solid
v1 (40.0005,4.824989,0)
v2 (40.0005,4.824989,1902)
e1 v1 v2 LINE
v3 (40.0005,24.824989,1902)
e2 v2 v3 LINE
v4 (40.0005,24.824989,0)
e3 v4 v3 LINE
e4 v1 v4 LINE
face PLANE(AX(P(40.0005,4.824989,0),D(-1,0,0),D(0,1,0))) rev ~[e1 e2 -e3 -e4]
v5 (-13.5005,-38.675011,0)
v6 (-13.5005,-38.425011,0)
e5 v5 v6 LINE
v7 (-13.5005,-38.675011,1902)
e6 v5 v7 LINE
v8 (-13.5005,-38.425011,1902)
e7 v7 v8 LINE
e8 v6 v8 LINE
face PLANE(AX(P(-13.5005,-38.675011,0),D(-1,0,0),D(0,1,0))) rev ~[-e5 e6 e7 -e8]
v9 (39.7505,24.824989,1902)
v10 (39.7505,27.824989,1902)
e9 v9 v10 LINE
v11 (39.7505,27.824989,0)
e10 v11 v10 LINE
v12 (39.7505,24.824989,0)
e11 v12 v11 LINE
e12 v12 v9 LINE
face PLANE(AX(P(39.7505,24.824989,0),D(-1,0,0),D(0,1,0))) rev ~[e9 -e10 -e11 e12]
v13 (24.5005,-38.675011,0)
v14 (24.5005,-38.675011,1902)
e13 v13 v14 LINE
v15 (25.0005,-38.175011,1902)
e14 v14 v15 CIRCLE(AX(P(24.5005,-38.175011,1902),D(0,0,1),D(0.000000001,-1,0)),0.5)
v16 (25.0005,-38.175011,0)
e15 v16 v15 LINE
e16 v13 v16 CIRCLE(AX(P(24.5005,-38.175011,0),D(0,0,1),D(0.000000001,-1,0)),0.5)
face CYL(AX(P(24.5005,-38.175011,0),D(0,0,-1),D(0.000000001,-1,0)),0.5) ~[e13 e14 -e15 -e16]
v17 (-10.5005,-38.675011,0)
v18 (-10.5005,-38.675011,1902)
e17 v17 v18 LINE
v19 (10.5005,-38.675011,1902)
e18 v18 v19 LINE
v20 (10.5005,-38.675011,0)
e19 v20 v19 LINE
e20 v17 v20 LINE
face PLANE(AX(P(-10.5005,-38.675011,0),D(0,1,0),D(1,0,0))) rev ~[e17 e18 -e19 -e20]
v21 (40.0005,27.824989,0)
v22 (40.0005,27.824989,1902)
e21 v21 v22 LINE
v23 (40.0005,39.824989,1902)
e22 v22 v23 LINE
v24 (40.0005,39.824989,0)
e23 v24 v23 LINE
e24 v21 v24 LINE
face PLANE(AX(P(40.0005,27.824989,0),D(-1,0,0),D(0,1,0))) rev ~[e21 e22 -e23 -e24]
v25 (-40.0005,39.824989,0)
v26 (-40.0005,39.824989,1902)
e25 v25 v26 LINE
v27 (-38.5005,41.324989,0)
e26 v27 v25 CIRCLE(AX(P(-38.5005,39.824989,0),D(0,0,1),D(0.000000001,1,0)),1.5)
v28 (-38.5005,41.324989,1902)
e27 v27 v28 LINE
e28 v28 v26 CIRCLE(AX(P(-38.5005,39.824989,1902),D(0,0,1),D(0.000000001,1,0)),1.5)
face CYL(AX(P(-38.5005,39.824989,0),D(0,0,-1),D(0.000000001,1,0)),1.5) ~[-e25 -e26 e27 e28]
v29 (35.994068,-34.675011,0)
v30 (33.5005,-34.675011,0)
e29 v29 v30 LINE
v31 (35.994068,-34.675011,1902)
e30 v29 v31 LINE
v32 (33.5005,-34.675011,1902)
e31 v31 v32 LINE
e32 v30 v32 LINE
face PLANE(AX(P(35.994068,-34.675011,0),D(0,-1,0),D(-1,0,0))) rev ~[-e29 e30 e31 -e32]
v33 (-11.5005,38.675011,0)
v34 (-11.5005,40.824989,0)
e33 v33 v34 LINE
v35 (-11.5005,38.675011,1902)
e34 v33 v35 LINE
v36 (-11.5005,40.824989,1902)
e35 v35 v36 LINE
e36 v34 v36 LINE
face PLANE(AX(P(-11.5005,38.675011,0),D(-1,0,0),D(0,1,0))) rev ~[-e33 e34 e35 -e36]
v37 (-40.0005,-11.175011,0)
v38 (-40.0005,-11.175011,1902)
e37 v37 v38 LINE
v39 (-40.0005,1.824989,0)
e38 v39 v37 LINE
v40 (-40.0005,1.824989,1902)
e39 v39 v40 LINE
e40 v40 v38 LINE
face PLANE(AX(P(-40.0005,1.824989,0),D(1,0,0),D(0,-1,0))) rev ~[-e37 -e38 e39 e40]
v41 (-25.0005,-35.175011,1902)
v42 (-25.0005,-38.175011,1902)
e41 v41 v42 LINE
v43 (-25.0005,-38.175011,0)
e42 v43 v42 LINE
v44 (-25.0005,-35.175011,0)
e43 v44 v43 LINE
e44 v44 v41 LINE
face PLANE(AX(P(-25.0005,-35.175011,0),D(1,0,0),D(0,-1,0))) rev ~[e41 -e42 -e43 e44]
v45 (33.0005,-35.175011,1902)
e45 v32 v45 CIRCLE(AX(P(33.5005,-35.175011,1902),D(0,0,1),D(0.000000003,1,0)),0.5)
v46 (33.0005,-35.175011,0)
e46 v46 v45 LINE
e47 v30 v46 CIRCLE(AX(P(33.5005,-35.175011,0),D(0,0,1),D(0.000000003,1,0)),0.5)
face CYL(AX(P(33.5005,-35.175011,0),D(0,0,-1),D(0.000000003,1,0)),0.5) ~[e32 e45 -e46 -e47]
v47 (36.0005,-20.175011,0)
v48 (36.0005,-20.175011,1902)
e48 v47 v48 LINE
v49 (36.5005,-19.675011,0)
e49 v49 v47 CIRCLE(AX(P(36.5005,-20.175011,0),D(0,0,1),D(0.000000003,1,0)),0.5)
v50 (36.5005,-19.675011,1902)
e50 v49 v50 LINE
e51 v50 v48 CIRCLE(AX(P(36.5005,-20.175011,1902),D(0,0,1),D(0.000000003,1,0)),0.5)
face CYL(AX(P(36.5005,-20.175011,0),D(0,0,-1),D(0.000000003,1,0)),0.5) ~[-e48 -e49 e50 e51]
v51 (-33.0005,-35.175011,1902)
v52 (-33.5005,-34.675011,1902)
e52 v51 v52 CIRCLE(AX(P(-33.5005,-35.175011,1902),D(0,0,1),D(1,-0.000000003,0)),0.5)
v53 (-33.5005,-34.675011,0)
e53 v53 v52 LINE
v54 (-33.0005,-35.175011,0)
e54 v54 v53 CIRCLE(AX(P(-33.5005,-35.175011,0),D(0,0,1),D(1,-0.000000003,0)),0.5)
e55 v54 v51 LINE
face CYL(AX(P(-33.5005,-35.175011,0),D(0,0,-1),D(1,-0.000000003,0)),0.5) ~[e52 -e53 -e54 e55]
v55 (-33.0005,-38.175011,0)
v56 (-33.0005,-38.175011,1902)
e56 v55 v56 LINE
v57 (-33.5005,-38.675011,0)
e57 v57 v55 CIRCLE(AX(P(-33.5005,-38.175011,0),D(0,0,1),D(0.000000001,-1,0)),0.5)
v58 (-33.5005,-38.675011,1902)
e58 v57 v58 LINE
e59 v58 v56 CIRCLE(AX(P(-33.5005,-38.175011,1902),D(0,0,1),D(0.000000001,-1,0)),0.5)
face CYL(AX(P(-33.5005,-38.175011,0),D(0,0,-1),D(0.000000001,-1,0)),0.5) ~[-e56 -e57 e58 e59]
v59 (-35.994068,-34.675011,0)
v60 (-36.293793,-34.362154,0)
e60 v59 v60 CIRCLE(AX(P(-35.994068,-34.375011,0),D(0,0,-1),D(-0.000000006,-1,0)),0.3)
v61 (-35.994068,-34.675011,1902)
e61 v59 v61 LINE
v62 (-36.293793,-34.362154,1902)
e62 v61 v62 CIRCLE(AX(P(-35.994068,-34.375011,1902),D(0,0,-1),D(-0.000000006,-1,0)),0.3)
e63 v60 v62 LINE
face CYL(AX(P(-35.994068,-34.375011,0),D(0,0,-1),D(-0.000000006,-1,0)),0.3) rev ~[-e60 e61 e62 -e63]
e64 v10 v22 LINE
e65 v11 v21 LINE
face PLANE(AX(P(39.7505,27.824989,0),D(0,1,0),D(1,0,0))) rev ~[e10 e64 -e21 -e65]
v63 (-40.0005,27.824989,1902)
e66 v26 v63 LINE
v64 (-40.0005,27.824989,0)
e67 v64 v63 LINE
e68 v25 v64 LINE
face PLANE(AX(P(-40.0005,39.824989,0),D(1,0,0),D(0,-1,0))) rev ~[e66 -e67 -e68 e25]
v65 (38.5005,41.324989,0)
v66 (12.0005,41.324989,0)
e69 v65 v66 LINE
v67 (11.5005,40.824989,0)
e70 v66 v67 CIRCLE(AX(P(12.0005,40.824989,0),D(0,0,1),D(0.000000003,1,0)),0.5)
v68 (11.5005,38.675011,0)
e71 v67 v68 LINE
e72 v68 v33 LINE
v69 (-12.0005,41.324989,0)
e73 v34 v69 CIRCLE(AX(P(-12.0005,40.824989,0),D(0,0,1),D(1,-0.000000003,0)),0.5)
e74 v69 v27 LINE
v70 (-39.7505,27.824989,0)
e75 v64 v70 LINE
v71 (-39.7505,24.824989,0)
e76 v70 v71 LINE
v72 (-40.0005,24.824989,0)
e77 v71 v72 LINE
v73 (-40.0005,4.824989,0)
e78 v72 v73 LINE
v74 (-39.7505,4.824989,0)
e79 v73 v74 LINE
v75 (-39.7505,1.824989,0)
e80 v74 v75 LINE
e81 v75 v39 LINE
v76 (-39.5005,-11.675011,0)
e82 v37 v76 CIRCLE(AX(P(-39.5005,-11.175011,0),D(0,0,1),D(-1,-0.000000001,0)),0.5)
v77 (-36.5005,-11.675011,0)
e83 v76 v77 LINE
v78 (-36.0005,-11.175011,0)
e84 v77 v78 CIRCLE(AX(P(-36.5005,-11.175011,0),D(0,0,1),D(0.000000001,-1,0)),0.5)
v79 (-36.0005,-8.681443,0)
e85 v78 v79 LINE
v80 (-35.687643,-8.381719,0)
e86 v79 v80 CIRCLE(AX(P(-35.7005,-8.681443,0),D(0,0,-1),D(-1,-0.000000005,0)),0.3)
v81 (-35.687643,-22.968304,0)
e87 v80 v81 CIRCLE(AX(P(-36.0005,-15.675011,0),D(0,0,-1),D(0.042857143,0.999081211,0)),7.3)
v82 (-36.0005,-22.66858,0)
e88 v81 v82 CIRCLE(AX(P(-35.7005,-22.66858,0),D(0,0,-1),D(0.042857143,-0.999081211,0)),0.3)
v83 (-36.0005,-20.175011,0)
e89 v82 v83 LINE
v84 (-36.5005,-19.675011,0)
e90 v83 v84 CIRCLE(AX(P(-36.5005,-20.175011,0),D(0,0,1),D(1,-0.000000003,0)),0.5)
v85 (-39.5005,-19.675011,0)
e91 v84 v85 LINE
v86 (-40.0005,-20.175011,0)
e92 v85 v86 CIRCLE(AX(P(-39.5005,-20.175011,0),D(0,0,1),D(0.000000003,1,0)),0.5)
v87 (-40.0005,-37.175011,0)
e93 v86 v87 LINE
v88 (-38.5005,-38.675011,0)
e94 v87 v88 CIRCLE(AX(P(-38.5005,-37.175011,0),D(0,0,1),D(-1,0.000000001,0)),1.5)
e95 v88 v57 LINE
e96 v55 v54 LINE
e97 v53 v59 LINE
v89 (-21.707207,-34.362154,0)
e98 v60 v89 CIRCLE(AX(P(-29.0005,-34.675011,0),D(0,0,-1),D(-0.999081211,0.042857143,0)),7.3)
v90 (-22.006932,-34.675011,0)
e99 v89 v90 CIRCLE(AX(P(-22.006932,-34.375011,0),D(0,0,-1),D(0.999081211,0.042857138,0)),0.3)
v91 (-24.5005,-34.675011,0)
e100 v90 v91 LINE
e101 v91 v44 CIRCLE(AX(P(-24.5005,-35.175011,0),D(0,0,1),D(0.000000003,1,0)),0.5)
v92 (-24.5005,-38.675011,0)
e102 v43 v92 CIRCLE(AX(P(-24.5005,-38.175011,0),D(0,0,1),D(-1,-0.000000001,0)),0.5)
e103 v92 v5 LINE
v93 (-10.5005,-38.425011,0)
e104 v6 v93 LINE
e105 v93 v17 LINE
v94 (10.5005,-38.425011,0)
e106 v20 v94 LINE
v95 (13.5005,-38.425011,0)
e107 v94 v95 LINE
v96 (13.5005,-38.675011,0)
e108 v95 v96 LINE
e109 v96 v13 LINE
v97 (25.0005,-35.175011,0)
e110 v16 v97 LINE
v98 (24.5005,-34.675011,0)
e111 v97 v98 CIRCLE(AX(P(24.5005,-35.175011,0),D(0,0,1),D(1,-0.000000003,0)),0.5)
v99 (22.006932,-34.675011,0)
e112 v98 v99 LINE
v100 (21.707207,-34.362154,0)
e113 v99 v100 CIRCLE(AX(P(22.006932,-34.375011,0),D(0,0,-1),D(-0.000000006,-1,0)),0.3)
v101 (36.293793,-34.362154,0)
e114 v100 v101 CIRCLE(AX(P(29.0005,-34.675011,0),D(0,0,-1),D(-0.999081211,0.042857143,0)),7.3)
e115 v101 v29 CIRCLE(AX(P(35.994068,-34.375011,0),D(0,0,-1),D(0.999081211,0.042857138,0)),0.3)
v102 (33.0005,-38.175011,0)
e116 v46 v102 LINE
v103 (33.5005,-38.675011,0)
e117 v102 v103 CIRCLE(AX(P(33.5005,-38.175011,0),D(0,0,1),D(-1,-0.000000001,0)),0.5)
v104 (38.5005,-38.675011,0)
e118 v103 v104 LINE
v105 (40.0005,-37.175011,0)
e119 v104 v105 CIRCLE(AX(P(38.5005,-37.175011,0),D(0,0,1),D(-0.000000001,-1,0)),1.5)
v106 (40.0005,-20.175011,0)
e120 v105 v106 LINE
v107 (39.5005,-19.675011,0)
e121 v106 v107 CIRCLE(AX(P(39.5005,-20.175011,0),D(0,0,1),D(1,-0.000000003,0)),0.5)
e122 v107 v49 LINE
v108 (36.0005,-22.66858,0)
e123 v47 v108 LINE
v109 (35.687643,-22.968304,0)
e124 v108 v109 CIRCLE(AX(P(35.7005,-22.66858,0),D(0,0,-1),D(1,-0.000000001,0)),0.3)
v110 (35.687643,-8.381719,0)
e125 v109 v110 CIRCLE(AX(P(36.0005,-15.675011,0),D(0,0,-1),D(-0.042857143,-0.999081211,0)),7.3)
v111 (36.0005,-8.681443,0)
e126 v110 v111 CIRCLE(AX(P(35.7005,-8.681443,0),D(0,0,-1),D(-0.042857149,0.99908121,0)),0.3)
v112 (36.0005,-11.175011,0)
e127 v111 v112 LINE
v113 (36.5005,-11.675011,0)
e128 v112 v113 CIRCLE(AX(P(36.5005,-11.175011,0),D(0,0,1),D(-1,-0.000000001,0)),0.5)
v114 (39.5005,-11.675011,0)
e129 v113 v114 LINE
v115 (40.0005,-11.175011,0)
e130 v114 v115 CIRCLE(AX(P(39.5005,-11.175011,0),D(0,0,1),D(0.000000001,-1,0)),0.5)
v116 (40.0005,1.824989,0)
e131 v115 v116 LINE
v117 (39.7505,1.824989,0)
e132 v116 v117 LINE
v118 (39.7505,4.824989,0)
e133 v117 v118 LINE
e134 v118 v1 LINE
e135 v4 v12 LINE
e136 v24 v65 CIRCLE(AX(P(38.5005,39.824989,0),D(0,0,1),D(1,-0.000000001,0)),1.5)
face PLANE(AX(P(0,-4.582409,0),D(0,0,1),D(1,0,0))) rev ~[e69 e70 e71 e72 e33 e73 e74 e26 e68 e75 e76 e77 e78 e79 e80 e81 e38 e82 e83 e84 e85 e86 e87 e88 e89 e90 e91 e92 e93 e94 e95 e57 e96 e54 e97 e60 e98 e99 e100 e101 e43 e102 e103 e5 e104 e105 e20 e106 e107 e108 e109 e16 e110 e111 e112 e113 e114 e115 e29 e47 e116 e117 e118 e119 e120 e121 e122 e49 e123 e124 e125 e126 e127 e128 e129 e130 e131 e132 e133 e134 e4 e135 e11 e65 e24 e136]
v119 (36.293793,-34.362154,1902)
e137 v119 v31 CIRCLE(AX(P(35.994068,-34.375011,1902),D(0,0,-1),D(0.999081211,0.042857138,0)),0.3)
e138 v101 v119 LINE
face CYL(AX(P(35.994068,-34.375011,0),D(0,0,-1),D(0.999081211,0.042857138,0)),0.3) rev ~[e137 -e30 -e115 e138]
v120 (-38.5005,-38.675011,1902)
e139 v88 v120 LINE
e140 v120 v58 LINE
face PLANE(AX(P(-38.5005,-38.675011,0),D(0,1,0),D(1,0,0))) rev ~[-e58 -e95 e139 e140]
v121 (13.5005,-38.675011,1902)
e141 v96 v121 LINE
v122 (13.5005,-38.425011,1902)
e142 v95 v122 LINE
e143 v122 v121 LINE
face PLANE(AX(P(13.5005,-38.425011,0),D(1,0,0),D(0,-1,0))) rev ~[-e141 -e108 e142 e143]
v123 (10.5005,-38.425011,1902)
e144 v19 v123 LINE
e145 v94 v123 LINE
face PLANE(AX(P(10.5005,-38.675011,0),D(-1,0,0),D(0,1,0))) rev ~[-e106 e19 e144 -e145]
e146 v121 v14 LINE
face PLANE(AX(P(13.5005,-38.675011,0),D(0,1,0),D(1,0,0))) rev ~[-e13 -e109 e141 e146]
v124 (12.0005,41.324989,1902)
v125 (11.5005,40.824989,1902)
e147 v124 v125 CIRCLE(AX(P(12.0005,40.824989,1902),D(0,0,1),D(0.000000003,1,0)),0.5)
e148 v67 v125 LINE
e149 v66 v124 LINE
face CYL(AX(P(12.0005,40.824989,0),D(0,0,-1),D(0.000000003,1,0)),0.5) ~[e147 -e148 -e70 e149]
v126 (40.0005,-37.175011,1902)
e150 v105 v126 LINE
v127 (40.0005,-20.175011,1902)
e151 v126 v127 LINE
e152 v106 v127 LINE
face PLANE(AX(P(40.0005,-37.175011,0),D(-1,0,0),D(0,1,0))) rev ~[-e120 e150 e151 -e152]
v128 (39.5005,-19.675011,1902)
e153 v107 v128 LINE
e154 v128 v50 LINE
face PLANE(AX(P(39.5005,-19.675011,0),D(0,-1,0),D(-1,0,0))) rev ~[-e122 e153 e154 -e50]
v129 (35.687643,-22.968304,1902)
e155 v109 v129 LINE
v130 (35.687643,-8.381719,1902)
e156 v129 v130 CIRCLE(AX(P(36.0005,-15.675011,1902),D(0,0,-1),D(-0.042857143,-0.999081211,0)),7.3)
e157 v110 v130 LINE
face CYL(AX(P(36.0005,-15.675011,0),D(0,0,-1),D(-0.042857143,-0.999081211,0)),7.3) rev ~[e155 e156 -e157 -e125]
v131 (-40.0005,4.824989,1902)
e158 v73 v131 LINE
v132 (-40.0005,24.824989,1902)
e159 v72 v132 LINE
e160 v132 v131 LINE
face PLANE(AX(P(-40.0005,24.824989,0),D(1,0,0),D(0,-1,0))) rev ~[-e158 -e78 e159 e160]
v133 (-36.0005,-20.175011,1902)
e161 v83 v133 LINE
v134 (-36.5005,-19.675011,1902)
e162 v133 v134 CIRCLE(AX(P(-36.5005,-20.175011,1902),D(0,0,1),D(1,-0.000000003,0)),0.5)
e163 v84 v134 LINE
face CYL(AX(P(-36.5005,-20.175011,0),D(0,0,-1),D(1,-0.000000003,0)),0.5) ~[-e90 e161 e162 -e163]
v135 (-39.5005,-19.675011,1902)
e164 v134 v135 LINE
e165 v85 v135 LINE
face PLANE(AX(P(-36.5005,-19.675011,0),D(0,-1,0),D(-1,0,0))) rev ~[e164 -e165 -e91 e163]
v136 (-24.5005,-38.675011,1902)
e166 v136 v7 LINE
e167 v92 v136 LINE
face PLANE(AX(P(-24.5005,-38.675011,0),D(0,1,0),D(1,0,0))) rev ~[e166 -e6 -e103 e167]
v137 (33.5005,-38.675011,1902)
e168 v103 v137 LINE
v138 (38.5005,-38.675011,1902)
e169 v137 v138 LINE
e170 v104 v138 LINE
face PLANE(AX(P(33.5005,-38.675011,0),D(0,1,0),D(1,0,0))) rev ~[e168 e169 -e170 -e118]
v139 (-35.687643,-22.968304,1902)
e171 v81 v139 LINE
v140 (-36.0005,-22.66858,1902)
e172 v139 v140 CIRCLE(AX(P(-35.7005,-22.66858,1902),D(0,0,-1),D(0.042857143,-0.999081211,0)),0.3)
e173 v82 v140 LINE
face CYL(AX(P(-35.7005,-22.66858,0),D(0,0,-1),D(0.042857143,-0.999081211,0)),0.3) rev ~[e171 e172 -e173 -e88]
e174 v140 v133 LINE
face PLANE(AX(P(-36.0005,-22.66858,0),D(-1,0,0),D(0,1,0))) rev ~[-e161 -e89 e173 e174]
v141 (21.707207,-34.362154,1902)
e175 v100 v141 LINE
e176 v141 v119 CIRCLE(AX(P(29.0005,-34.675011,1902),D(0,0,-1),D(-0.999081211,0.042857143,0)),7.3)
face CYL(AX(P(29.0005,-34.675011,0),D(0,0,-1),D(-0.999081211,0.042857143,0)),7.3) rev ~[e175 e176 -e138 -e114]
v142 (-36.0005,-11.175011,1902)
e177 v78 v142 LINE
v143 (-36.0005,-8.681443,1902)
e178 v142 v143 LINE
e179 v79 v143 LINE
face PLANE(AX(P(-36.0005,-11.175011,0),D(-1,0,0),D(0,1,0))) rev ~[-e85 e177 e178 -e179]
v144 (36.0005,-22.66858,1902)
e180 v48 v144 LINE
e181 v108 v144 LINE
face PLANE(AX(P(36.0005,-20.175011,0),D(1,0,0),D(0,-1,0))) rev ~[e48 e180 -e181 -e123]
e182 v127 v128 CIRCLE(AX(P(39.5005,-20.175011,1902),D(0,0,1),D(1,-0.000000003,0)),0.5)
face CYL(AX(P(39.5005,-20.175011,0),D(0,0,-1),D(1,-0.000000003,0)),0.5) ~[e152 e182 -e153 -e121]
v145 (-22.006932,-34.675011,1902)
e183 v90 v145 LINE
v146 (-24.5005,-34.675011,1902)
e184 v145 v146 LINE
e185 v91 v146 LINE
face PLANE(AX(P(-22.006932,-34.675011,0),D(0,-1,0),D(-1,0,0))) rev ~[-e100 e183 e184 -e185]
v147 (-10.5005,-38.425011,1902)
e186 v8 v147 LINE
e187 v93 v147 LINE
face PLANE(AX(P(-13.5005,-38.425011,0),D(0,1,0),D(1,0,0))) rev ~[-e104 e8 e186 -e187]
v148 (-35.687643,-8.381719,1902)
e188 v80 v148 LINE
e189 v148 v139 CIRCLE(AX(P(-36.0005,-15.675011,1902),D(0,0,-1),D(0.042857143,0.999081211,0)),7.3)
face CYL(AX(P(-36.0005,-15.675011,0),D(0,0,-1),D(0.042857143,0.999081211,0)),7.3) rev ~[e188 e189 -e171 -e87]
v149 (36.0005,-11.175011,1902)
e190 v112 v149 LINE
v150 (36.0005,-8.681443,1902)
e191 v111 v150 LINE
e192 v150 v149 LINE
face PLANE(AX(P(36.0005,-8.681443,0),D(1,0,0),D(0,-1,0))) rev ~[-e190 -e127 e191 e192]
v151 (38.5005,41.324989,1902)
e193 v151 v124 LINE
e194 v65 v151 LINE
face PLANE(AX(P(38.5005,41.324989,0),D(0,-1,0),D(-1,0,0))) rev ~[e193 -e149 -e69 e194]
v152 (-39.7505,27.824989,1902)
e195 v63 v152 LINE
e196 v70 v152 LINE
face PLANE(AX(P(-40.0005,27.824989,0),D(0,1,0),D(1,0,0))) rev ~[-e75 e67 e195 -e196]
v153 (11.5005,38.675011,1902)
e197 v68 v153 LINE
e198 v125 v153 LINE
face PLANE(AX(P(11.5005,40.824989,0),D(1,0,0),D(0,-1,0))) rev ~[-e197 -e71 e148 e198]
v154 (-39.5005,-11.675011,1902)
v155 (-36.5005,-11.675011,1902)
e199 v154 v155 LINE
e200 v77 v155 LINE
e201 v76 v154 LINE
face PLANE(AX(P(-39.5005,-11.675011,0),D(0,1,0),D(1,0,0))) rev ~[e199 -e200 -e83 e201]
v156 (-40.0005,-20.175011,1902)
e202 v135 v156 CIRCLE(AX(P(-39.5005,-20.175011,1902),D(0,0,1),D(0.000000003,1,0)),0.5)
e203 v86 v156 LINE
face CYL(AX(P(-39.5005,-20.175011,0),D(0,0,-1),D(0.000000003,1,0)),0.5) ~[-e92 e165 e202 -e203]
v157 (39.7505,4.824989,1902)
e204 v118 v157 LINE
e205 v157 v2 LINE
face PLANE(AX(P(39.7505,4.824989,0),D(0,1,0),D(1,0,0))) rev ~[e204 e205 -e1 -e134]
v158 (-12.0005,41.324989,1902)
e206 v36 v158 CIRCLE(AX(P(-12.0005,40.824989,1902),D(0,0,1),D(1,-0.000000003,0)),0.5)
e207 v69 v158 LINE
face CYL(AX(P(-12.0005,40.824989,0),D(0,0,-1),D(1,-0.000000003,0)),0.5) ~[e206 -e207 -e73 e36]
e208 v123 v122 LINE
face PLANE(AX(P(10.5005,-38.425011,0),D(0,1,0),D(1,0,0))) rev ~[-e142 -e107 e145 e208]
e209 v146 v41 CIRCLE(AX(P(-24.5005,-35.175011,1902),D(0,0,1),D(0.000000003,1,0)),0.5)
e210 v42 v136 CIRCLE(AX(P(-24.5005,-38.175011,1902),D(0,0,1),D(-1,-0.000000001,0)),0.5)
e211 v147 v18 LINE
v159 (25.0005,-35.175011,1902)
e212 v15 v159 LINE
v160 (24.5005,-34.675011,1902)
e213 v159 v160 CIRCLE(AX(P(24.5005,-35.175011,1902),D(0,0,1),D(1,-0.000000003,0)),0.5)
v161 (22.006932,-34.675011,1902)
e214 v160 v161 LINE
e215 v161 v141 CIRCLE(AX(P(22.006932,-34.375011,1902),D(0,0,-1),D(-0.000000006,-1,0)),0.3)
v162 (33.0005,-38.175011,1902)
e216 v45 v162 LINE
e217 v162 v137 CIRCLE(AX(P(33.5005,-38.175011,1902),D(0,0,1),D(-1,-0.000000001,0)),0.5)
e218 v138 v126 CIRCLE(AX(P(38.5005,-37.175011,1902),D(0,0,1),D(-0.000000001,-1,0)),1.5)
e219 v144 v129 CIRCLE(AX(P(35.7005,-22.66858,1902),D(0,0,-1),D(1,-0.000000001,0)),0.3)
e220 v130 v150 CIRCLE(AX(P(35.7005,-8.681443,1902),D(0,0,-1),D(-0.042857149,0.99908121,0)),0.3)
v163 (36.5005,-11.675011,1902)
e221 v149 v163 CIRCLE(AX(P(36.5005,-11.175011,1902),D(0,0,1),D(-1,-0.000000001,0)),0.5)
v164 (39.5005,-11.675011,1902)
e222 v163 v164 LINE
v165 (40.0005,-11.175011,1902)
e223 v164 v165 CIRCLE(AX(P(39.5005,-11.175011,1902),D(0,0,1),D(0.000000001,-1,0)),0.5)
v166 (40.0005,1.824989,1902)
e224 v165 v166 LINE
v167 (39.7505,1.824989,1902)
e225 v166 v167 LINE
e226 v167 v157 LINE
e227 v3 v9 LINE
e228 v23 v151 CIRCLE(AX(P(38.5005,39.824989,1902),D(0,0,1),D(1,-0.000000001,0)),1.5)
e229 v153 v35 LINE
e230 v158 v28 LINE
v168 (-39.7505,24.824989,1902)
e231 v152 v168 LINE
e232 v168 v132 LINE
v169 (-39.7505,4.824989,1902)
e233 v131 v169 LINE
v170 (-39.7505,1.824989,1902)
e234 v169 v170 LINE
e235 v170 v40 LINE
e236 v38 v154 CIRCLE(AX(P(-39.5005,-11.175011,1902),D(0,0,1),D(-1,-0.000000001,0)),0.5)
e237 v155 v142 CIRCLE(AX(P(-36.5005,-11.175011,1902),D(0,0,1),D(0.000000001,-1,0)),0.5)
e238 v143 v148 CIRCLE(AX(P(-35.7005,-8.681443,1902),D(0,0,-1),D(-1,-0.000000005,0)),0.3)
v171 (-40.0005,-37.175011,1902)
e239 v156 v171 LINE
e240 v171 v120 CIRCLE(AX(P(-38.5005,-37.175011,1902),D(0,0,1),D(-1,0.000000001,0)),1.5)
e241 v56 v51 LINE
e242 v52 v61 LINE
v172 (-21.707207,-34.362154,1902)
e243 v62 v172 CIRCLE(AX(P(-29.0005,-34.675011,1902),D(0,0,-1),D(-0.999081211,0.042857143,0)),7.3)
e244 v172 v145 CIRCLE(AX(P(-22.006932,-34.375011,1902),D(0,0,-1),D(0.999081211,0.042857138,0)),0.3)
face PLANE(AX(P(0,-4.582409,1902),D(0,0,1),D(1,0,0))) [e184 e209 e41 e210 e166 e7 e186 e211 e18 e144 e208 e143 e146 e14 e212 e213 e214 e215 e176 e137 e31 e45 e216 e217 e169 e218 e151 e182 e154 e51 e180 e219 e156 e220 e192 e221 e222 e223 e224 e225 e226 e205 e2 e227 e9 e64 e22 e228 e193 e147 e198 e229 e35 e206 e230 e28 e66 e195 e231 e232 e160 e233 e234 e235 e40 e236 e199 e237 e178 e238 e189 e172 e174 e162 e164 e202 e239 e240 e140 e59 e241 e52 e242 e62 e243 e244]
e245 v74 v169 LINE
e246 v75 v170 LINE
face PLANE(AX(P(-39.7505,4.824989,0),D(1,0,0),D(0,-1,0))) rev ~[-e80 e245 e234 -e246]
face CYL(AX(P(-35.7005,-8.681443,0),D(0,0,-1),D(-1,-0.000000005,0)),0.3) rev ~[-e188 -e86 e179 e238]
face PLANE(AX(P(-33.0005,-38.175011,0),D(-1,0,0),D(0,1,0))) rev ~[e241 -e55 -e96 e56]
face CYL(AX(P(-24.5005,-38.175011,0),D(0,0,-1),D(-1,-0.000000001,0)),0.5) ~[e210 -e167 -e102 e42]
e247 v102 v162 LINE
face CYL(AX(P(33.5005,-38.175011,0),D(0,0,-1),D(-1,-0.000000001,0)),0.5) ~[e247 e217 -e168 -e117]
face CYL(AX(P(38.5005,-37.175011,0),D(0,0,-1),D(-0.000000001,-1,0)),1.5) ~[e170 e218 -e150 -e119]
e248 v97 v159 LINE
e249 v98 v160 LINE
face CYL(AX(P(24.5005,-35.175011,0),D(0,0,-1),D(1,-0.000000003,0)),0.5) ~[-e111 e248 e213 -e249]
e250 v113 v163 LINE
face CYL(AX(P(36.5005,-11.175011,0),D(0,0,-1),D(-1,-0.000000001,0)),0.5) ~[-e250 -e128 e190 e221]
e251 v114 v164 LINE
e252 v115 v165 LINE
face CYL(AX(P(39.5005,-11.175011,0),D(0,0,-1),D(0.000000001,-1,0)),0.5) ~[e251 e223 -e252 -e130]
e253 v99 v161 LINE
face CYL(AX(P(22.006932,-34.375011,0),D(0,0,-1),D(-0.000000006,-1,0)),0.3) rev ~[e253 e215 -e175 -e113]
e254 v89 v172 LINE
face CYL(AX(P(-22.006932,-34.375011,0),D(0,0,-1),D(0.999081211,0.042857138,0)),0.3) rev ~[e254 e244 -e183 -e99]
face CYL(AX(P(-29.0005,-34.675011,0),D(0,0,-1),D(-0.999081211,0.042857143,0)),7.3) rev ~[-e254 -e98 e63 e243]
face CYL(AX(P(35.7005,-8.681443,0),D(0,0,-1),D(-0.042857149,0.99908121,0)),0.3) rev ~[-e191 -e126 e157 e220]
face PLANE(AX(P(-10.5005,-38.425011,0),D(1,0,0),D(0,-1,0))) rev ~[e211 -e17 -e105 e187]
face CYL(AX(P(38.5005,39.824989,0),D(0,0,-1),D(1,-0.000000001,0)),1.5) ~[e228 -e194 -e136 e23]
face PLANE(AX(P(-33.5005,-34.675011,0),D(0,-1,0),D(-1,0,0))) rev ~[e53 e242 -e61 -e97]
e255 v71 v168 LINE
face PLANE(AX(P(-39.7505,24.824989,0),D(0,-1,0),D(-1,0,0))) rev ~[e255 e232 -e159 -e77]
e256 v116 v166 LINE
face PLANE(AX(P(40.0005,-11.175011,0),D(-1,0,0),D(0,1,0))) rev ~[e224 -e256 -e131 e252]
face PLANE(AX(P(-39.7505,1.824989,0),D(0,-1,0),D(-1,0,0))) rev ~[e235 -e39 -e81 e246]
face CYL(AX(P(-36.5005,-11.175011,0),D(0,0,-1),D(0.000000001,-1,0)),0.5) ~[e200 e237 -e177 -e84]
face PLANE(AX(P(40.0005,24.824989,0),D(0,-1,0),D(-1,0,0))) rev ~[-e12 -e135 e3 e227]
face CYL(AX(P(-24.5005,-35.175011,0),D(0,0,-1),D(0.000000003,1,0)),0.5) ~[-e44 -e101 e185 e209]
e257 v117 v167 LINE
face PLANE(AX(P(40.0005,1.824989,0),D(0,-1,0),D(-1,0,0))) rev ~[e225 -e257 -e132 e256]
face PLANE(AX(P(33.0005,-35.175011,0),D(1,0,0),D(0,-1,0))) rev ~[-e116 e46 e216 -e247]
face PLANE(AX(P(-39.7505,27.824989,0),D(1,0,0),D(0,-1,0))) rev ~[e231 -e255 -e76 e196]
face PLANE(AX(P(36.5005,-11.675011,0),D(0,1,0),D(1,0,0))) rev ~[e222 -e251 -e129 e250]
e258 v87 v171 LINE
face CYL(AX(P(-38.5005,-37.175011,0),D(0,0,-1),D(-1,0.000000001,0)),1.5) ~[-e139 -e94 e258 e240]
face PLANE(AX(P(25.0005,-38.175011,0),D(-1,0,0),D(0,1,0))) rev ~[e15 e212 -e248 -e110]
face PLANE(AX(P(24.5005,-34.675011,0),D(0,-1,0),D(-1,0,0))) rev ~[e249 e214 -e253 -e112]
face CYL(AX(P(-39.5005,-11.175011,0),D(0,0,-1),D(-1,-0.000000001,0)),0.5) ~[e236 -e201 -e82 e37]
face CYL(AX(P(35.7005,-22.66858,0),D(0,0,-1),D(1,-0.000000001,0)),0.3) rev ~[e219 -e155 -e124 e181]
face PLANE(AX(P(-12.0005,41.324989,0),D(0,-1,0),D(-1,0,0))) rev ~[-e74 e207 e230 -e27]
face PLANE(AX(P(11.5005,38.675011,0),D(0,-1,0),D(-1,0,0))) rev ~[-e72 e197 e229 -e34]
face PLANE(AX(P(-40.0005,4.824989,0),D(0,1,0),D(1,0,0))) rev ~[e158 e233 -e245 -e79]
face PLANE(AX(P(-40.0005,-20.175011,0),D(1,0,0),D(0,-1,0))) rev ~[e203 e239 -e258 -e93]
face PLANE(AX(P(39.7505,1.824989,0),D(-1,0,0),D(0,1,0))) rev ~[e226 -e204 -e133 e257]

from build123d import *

# Parameters (mm, degrees)
BOSS_EXTRU_1_DEPTH = 1902


with BuildPart() as part:
    # Esquisse1 → Boss.-Extru.1 (new body)
    with BuildSketch(Plane.XY):
        with BuildLine():
            Line((-36.0005, -22.668579891), (-36.0005, -20.175011417))
            ThreePointArc((-36.0005, -20.175011417), (-36.146946609, -19.821458026), (-36.5005, -19.675011417))
            Line((-36.5005, -19.675011417), (-39.5005, -19.675011417))
            ThreePointArc((-39.5005, -19.675011417), (-39.854053391, -19.821458026), (-40.0005, -20.175011417))
            Line((-40.0005, -20.175011417), (-40.0005, -37.175011417))
            ThreePointArc((-40.0005, -37.175011417), (-39.561160172, -38.235671589), (-38.5005, -38.675011417))
            Line((-38.5005, -38.675011417), (-33.5005, -38.675011417))
            ThreePointArc((-33.5005, -38.675011417), (-33.146946609, -38.528564807), (-33.0005, -38.175011417))
            Line((-33.0005, -38.175011417), (-33.0005, -35.175011417))
            ThreePointArc((-33.0005, -35.175011417), (-33.146946609, -34.821458026), (-33.5005, -34.675011417))
            Line((-33.5005, -34.675011417), (-35.994068474, -34.675011417))
            ThreePointArc((-35.994068474, -34.675011417), (-36.210698507, -34.582547988), (-36.293792837, -34.362154274))
            ThreePointArc((-36.293792837, -34.362154274), (-29.0005, -27.375011417), (-21.707207163, -34.362154274))
            ThreePointArc((-21.707207163, -34.362154274), (-21.790301493, -34.582547988), (-22.006931526, -34.675011417))
            Line((-22.006931526, -34.675011417), (-24.5005, -34.675011417))
            ThreePointArc((-24.5005, -34.675011417), (-24.854053391, -34.821458026), (-25.0005, -35.175011417))
            Line((-25.0005, -35.175011417), (-25.0005, -38.175011417))
            ThreePointArc((-25.0005, -38.175011417), (-24.854053391, -38.528564807), (-24.5005, -38.675011417))
            Line((-24.5005, -38.675011417), (-13.5005, -38.675011417))
            Line((-13.5005, -38.675011417), (-13.5005, -38.425011417))
            Line((-13.5005, -38.425011417), (-10.5005, -38.425011417))
            Line((-10.5005, -38.425011417), (-10.5005, -38.675011417))
            Line((-10.5005, -38.675011417), (10.5005, -38.675011417))
            Line((10.5005, -38.675011417), (10.5005, -38.425011417))
            Line((10.5005, -38.425011417), (13.5005, -38.425011417))
            Line((13.5005, -38.425011417), (13.5005, -38.675011417))
            Line((13.5005, -38.675011417), (24.5005, -38.675011417))
            ThreePointArc((24.5005, -38.675011417), (24.854053391, -38.528564807), (25.0005, -38.175011417))
            Line((25.0005, -38.175011417), (25.0005, -35.175011417))
            ThreePointArc((25.0005, -35.175011417), (24.854053391, -34.821458026), (24.5005, -34.675011417))
            Line((24.5005, -34.675011417), (22.006931526, -34.675011417))
            ThreePointArc((22.006931526, -34.675011417), (21.790301493, -34.582547988), (21.707207163, -34.362154274))
            ThreePointArc((21.707207163, -34.362154274), (29.0005, -27.375011417), (36.293792837, -34.362154274))
            ThreePointArc((36.293792837, -34.362154274), (36.210698507, -34.582547988), (35.994068474, -34.675011417))
            Line((35.994068474, -34.675011417), (33.5005, -34.675011417))
            ThreePointArc((33.5005, -34.675011417), (33.146946609, -34.821458026), (33.0005, -35.175011417))
            Line((33.0005, -35.175011417), (33.0005, -38.175011417))
            ThreePointArc((33.0005, -38.175011417), (33.146946609, -38.528564807), (33.5005, -38.675011417))
            Line((33.5005, -38.675011417), (38.5005, -38.675011417))
            ThreePointArc((38.5005, -38.675011417), (39.561160172, -38.235671589), (40.0005, -37.175011417))
            Line((40.0005, -37.175011417), (40.0005, -20.175011417))
            ThreePointArc((40.0005, -20.175011417), (39.854053391, -19.821458026), (39.5005, -19.675011417))
            Line((39.5005, -19.675011417), (36.5005, -19.675011417))
            ThreePointArc((36.5005, -19.675011417), (36.146946609, -19.821458026), (36.0005, -20.175011417))
            Line((36.0005, -20.175011417), (36.0005, -22.668579891))
            ThreePointArc((36.0005, -22.668579891), (35.908036572, -22.885209924), (35.687642857, -22.968304254))
            ThreePointArc((35.687642857, -22.968304254), (28.7005, -15.675011417), (35.687642857, -8.38171858))
            ThreePointArc((35.687642857, -8.38171858), (35.908036572, -8.464812909), (36.0005, -8.681442943))
            Line((36.0005, -8.681442943), (36.0005, -11.175011417))
            ThreePointArc((36.0005, -11.175011417), (36.146946609, -11.528564807), (36.5005, -11.675011417))
            Line((36.5005, -11.675011417), (39.5005, -11.675011417))
            ThreePointArc((39.5005, -11.675011417), (39.854053391, -11.528564807), (40.0005, -11.175011417))
            Line((40.0005, -11.175011417), (40.0005, 1.824988583))
            Line((40.0005, 1.824988583), (39.7505, 1.824988583))
            Line((39.7505, 1.824988583), (39.7505, 4.824988583))
            Line((39.7505, 4.824988583), (40.0005, 4.824988583))
            Line((40.0005, 4.824988583), (40.0005, 24.824988583))
            Line((40.0005, 24.824988583), (39.7505, 24.824988583))
            Line((39.7505, 24.824988583), (39.7505, 27.824988583))
            Line((39.7505, 27.824988583), (40.0005, 27.824988583))
            Line((40.0005, 27.824988583), (40.0005, 39.824988583))
            ThreePointArc((40.0005, 39.824988583), (39.561160172, 40.885648755), (38.5005, 41.324988583))
            Line((38.5005, 41.324988583), (12.0005, 41.324988583))
            ThreePointArc((12.0005, 41.324988583), (11.646946609, 41.178541974), (11.5005, 40.824988583))
            Line((11.5005, 40.824988583), (11.5005, 38.675011417))
            Line((11.5005, 38.675011417), (-11.5005, 38.675011417))
            Line((-11.5005, 38.675011417), (-11.5005, 40.824988583))
            ThreePointArc((-11.5005, 40.824988583), (-11.646946609, 41.178541974), (-12.0005, 41.324988583))
            Line((-12.0005, 41.324988583), (-38.5005, 41.324988583))
            ThreePointArc((-38.5005, 41.324988583), (-39.561160172, 40.885648755), (-40.0005, 39.824988583))
            Line((-40.0005, 39.824988583), (-40.0005, 27.824988583))
            Line((-40.0005, 27.824988583), (-39.7505, 27.824988583))
            Line((-39.7505, 27.824988583), (-39.7505, 24.824988583))
            Line((-39.7505, 24.824988583), (-40.0005, 24.824988583))
            Line((-40.0005, 24.824988583), (-40.0005, 4.824988583))
            Line((-40.0005, 4.824988583), (-39.7505, 4.824988583))
            Line((-39.7505, 4.824988583), (-39.7505, 1.824988583))
            Line((-39.7505, 1.824988583), (-40.0005, 1.824988583))
            Line((-40.0005, 1.824988583), (-40.0005, -11.175011417))
            ThreePointArc((-40.0005, -11.175011417), (-39.854053391, -11.528564807), (-39.5005, -11.675011417))
            Line((-39.5005, -11.675011417), (-36.5005, -11.675011417))
            ThreePointArc((-36.5005, -11.675011417), (-36.146946609, -11.528564807), (-36.0005, -11.175011417))
            Line((-36.0005, -11.175011417), (-36.0005, -8.681442943))
            ThreePointArc((-36.0005, -8.681442943), (-35.908036572, -8.464812909), (-35.687642857, -8.38171858))
            ThreePointArc((-35.687642857, -8.38171858), (-28.7005, -15.675011417), (-35.687642857, -22.968304254))
            ThreePointArc((-35.687642857, -22.968304254), (-35.908036572, -22.885209924), (-36.0005, -22.668579891))
        make_face()
    extrude(amount=BOSS_EXTRU_1_DEPTH)


solid = part.part
